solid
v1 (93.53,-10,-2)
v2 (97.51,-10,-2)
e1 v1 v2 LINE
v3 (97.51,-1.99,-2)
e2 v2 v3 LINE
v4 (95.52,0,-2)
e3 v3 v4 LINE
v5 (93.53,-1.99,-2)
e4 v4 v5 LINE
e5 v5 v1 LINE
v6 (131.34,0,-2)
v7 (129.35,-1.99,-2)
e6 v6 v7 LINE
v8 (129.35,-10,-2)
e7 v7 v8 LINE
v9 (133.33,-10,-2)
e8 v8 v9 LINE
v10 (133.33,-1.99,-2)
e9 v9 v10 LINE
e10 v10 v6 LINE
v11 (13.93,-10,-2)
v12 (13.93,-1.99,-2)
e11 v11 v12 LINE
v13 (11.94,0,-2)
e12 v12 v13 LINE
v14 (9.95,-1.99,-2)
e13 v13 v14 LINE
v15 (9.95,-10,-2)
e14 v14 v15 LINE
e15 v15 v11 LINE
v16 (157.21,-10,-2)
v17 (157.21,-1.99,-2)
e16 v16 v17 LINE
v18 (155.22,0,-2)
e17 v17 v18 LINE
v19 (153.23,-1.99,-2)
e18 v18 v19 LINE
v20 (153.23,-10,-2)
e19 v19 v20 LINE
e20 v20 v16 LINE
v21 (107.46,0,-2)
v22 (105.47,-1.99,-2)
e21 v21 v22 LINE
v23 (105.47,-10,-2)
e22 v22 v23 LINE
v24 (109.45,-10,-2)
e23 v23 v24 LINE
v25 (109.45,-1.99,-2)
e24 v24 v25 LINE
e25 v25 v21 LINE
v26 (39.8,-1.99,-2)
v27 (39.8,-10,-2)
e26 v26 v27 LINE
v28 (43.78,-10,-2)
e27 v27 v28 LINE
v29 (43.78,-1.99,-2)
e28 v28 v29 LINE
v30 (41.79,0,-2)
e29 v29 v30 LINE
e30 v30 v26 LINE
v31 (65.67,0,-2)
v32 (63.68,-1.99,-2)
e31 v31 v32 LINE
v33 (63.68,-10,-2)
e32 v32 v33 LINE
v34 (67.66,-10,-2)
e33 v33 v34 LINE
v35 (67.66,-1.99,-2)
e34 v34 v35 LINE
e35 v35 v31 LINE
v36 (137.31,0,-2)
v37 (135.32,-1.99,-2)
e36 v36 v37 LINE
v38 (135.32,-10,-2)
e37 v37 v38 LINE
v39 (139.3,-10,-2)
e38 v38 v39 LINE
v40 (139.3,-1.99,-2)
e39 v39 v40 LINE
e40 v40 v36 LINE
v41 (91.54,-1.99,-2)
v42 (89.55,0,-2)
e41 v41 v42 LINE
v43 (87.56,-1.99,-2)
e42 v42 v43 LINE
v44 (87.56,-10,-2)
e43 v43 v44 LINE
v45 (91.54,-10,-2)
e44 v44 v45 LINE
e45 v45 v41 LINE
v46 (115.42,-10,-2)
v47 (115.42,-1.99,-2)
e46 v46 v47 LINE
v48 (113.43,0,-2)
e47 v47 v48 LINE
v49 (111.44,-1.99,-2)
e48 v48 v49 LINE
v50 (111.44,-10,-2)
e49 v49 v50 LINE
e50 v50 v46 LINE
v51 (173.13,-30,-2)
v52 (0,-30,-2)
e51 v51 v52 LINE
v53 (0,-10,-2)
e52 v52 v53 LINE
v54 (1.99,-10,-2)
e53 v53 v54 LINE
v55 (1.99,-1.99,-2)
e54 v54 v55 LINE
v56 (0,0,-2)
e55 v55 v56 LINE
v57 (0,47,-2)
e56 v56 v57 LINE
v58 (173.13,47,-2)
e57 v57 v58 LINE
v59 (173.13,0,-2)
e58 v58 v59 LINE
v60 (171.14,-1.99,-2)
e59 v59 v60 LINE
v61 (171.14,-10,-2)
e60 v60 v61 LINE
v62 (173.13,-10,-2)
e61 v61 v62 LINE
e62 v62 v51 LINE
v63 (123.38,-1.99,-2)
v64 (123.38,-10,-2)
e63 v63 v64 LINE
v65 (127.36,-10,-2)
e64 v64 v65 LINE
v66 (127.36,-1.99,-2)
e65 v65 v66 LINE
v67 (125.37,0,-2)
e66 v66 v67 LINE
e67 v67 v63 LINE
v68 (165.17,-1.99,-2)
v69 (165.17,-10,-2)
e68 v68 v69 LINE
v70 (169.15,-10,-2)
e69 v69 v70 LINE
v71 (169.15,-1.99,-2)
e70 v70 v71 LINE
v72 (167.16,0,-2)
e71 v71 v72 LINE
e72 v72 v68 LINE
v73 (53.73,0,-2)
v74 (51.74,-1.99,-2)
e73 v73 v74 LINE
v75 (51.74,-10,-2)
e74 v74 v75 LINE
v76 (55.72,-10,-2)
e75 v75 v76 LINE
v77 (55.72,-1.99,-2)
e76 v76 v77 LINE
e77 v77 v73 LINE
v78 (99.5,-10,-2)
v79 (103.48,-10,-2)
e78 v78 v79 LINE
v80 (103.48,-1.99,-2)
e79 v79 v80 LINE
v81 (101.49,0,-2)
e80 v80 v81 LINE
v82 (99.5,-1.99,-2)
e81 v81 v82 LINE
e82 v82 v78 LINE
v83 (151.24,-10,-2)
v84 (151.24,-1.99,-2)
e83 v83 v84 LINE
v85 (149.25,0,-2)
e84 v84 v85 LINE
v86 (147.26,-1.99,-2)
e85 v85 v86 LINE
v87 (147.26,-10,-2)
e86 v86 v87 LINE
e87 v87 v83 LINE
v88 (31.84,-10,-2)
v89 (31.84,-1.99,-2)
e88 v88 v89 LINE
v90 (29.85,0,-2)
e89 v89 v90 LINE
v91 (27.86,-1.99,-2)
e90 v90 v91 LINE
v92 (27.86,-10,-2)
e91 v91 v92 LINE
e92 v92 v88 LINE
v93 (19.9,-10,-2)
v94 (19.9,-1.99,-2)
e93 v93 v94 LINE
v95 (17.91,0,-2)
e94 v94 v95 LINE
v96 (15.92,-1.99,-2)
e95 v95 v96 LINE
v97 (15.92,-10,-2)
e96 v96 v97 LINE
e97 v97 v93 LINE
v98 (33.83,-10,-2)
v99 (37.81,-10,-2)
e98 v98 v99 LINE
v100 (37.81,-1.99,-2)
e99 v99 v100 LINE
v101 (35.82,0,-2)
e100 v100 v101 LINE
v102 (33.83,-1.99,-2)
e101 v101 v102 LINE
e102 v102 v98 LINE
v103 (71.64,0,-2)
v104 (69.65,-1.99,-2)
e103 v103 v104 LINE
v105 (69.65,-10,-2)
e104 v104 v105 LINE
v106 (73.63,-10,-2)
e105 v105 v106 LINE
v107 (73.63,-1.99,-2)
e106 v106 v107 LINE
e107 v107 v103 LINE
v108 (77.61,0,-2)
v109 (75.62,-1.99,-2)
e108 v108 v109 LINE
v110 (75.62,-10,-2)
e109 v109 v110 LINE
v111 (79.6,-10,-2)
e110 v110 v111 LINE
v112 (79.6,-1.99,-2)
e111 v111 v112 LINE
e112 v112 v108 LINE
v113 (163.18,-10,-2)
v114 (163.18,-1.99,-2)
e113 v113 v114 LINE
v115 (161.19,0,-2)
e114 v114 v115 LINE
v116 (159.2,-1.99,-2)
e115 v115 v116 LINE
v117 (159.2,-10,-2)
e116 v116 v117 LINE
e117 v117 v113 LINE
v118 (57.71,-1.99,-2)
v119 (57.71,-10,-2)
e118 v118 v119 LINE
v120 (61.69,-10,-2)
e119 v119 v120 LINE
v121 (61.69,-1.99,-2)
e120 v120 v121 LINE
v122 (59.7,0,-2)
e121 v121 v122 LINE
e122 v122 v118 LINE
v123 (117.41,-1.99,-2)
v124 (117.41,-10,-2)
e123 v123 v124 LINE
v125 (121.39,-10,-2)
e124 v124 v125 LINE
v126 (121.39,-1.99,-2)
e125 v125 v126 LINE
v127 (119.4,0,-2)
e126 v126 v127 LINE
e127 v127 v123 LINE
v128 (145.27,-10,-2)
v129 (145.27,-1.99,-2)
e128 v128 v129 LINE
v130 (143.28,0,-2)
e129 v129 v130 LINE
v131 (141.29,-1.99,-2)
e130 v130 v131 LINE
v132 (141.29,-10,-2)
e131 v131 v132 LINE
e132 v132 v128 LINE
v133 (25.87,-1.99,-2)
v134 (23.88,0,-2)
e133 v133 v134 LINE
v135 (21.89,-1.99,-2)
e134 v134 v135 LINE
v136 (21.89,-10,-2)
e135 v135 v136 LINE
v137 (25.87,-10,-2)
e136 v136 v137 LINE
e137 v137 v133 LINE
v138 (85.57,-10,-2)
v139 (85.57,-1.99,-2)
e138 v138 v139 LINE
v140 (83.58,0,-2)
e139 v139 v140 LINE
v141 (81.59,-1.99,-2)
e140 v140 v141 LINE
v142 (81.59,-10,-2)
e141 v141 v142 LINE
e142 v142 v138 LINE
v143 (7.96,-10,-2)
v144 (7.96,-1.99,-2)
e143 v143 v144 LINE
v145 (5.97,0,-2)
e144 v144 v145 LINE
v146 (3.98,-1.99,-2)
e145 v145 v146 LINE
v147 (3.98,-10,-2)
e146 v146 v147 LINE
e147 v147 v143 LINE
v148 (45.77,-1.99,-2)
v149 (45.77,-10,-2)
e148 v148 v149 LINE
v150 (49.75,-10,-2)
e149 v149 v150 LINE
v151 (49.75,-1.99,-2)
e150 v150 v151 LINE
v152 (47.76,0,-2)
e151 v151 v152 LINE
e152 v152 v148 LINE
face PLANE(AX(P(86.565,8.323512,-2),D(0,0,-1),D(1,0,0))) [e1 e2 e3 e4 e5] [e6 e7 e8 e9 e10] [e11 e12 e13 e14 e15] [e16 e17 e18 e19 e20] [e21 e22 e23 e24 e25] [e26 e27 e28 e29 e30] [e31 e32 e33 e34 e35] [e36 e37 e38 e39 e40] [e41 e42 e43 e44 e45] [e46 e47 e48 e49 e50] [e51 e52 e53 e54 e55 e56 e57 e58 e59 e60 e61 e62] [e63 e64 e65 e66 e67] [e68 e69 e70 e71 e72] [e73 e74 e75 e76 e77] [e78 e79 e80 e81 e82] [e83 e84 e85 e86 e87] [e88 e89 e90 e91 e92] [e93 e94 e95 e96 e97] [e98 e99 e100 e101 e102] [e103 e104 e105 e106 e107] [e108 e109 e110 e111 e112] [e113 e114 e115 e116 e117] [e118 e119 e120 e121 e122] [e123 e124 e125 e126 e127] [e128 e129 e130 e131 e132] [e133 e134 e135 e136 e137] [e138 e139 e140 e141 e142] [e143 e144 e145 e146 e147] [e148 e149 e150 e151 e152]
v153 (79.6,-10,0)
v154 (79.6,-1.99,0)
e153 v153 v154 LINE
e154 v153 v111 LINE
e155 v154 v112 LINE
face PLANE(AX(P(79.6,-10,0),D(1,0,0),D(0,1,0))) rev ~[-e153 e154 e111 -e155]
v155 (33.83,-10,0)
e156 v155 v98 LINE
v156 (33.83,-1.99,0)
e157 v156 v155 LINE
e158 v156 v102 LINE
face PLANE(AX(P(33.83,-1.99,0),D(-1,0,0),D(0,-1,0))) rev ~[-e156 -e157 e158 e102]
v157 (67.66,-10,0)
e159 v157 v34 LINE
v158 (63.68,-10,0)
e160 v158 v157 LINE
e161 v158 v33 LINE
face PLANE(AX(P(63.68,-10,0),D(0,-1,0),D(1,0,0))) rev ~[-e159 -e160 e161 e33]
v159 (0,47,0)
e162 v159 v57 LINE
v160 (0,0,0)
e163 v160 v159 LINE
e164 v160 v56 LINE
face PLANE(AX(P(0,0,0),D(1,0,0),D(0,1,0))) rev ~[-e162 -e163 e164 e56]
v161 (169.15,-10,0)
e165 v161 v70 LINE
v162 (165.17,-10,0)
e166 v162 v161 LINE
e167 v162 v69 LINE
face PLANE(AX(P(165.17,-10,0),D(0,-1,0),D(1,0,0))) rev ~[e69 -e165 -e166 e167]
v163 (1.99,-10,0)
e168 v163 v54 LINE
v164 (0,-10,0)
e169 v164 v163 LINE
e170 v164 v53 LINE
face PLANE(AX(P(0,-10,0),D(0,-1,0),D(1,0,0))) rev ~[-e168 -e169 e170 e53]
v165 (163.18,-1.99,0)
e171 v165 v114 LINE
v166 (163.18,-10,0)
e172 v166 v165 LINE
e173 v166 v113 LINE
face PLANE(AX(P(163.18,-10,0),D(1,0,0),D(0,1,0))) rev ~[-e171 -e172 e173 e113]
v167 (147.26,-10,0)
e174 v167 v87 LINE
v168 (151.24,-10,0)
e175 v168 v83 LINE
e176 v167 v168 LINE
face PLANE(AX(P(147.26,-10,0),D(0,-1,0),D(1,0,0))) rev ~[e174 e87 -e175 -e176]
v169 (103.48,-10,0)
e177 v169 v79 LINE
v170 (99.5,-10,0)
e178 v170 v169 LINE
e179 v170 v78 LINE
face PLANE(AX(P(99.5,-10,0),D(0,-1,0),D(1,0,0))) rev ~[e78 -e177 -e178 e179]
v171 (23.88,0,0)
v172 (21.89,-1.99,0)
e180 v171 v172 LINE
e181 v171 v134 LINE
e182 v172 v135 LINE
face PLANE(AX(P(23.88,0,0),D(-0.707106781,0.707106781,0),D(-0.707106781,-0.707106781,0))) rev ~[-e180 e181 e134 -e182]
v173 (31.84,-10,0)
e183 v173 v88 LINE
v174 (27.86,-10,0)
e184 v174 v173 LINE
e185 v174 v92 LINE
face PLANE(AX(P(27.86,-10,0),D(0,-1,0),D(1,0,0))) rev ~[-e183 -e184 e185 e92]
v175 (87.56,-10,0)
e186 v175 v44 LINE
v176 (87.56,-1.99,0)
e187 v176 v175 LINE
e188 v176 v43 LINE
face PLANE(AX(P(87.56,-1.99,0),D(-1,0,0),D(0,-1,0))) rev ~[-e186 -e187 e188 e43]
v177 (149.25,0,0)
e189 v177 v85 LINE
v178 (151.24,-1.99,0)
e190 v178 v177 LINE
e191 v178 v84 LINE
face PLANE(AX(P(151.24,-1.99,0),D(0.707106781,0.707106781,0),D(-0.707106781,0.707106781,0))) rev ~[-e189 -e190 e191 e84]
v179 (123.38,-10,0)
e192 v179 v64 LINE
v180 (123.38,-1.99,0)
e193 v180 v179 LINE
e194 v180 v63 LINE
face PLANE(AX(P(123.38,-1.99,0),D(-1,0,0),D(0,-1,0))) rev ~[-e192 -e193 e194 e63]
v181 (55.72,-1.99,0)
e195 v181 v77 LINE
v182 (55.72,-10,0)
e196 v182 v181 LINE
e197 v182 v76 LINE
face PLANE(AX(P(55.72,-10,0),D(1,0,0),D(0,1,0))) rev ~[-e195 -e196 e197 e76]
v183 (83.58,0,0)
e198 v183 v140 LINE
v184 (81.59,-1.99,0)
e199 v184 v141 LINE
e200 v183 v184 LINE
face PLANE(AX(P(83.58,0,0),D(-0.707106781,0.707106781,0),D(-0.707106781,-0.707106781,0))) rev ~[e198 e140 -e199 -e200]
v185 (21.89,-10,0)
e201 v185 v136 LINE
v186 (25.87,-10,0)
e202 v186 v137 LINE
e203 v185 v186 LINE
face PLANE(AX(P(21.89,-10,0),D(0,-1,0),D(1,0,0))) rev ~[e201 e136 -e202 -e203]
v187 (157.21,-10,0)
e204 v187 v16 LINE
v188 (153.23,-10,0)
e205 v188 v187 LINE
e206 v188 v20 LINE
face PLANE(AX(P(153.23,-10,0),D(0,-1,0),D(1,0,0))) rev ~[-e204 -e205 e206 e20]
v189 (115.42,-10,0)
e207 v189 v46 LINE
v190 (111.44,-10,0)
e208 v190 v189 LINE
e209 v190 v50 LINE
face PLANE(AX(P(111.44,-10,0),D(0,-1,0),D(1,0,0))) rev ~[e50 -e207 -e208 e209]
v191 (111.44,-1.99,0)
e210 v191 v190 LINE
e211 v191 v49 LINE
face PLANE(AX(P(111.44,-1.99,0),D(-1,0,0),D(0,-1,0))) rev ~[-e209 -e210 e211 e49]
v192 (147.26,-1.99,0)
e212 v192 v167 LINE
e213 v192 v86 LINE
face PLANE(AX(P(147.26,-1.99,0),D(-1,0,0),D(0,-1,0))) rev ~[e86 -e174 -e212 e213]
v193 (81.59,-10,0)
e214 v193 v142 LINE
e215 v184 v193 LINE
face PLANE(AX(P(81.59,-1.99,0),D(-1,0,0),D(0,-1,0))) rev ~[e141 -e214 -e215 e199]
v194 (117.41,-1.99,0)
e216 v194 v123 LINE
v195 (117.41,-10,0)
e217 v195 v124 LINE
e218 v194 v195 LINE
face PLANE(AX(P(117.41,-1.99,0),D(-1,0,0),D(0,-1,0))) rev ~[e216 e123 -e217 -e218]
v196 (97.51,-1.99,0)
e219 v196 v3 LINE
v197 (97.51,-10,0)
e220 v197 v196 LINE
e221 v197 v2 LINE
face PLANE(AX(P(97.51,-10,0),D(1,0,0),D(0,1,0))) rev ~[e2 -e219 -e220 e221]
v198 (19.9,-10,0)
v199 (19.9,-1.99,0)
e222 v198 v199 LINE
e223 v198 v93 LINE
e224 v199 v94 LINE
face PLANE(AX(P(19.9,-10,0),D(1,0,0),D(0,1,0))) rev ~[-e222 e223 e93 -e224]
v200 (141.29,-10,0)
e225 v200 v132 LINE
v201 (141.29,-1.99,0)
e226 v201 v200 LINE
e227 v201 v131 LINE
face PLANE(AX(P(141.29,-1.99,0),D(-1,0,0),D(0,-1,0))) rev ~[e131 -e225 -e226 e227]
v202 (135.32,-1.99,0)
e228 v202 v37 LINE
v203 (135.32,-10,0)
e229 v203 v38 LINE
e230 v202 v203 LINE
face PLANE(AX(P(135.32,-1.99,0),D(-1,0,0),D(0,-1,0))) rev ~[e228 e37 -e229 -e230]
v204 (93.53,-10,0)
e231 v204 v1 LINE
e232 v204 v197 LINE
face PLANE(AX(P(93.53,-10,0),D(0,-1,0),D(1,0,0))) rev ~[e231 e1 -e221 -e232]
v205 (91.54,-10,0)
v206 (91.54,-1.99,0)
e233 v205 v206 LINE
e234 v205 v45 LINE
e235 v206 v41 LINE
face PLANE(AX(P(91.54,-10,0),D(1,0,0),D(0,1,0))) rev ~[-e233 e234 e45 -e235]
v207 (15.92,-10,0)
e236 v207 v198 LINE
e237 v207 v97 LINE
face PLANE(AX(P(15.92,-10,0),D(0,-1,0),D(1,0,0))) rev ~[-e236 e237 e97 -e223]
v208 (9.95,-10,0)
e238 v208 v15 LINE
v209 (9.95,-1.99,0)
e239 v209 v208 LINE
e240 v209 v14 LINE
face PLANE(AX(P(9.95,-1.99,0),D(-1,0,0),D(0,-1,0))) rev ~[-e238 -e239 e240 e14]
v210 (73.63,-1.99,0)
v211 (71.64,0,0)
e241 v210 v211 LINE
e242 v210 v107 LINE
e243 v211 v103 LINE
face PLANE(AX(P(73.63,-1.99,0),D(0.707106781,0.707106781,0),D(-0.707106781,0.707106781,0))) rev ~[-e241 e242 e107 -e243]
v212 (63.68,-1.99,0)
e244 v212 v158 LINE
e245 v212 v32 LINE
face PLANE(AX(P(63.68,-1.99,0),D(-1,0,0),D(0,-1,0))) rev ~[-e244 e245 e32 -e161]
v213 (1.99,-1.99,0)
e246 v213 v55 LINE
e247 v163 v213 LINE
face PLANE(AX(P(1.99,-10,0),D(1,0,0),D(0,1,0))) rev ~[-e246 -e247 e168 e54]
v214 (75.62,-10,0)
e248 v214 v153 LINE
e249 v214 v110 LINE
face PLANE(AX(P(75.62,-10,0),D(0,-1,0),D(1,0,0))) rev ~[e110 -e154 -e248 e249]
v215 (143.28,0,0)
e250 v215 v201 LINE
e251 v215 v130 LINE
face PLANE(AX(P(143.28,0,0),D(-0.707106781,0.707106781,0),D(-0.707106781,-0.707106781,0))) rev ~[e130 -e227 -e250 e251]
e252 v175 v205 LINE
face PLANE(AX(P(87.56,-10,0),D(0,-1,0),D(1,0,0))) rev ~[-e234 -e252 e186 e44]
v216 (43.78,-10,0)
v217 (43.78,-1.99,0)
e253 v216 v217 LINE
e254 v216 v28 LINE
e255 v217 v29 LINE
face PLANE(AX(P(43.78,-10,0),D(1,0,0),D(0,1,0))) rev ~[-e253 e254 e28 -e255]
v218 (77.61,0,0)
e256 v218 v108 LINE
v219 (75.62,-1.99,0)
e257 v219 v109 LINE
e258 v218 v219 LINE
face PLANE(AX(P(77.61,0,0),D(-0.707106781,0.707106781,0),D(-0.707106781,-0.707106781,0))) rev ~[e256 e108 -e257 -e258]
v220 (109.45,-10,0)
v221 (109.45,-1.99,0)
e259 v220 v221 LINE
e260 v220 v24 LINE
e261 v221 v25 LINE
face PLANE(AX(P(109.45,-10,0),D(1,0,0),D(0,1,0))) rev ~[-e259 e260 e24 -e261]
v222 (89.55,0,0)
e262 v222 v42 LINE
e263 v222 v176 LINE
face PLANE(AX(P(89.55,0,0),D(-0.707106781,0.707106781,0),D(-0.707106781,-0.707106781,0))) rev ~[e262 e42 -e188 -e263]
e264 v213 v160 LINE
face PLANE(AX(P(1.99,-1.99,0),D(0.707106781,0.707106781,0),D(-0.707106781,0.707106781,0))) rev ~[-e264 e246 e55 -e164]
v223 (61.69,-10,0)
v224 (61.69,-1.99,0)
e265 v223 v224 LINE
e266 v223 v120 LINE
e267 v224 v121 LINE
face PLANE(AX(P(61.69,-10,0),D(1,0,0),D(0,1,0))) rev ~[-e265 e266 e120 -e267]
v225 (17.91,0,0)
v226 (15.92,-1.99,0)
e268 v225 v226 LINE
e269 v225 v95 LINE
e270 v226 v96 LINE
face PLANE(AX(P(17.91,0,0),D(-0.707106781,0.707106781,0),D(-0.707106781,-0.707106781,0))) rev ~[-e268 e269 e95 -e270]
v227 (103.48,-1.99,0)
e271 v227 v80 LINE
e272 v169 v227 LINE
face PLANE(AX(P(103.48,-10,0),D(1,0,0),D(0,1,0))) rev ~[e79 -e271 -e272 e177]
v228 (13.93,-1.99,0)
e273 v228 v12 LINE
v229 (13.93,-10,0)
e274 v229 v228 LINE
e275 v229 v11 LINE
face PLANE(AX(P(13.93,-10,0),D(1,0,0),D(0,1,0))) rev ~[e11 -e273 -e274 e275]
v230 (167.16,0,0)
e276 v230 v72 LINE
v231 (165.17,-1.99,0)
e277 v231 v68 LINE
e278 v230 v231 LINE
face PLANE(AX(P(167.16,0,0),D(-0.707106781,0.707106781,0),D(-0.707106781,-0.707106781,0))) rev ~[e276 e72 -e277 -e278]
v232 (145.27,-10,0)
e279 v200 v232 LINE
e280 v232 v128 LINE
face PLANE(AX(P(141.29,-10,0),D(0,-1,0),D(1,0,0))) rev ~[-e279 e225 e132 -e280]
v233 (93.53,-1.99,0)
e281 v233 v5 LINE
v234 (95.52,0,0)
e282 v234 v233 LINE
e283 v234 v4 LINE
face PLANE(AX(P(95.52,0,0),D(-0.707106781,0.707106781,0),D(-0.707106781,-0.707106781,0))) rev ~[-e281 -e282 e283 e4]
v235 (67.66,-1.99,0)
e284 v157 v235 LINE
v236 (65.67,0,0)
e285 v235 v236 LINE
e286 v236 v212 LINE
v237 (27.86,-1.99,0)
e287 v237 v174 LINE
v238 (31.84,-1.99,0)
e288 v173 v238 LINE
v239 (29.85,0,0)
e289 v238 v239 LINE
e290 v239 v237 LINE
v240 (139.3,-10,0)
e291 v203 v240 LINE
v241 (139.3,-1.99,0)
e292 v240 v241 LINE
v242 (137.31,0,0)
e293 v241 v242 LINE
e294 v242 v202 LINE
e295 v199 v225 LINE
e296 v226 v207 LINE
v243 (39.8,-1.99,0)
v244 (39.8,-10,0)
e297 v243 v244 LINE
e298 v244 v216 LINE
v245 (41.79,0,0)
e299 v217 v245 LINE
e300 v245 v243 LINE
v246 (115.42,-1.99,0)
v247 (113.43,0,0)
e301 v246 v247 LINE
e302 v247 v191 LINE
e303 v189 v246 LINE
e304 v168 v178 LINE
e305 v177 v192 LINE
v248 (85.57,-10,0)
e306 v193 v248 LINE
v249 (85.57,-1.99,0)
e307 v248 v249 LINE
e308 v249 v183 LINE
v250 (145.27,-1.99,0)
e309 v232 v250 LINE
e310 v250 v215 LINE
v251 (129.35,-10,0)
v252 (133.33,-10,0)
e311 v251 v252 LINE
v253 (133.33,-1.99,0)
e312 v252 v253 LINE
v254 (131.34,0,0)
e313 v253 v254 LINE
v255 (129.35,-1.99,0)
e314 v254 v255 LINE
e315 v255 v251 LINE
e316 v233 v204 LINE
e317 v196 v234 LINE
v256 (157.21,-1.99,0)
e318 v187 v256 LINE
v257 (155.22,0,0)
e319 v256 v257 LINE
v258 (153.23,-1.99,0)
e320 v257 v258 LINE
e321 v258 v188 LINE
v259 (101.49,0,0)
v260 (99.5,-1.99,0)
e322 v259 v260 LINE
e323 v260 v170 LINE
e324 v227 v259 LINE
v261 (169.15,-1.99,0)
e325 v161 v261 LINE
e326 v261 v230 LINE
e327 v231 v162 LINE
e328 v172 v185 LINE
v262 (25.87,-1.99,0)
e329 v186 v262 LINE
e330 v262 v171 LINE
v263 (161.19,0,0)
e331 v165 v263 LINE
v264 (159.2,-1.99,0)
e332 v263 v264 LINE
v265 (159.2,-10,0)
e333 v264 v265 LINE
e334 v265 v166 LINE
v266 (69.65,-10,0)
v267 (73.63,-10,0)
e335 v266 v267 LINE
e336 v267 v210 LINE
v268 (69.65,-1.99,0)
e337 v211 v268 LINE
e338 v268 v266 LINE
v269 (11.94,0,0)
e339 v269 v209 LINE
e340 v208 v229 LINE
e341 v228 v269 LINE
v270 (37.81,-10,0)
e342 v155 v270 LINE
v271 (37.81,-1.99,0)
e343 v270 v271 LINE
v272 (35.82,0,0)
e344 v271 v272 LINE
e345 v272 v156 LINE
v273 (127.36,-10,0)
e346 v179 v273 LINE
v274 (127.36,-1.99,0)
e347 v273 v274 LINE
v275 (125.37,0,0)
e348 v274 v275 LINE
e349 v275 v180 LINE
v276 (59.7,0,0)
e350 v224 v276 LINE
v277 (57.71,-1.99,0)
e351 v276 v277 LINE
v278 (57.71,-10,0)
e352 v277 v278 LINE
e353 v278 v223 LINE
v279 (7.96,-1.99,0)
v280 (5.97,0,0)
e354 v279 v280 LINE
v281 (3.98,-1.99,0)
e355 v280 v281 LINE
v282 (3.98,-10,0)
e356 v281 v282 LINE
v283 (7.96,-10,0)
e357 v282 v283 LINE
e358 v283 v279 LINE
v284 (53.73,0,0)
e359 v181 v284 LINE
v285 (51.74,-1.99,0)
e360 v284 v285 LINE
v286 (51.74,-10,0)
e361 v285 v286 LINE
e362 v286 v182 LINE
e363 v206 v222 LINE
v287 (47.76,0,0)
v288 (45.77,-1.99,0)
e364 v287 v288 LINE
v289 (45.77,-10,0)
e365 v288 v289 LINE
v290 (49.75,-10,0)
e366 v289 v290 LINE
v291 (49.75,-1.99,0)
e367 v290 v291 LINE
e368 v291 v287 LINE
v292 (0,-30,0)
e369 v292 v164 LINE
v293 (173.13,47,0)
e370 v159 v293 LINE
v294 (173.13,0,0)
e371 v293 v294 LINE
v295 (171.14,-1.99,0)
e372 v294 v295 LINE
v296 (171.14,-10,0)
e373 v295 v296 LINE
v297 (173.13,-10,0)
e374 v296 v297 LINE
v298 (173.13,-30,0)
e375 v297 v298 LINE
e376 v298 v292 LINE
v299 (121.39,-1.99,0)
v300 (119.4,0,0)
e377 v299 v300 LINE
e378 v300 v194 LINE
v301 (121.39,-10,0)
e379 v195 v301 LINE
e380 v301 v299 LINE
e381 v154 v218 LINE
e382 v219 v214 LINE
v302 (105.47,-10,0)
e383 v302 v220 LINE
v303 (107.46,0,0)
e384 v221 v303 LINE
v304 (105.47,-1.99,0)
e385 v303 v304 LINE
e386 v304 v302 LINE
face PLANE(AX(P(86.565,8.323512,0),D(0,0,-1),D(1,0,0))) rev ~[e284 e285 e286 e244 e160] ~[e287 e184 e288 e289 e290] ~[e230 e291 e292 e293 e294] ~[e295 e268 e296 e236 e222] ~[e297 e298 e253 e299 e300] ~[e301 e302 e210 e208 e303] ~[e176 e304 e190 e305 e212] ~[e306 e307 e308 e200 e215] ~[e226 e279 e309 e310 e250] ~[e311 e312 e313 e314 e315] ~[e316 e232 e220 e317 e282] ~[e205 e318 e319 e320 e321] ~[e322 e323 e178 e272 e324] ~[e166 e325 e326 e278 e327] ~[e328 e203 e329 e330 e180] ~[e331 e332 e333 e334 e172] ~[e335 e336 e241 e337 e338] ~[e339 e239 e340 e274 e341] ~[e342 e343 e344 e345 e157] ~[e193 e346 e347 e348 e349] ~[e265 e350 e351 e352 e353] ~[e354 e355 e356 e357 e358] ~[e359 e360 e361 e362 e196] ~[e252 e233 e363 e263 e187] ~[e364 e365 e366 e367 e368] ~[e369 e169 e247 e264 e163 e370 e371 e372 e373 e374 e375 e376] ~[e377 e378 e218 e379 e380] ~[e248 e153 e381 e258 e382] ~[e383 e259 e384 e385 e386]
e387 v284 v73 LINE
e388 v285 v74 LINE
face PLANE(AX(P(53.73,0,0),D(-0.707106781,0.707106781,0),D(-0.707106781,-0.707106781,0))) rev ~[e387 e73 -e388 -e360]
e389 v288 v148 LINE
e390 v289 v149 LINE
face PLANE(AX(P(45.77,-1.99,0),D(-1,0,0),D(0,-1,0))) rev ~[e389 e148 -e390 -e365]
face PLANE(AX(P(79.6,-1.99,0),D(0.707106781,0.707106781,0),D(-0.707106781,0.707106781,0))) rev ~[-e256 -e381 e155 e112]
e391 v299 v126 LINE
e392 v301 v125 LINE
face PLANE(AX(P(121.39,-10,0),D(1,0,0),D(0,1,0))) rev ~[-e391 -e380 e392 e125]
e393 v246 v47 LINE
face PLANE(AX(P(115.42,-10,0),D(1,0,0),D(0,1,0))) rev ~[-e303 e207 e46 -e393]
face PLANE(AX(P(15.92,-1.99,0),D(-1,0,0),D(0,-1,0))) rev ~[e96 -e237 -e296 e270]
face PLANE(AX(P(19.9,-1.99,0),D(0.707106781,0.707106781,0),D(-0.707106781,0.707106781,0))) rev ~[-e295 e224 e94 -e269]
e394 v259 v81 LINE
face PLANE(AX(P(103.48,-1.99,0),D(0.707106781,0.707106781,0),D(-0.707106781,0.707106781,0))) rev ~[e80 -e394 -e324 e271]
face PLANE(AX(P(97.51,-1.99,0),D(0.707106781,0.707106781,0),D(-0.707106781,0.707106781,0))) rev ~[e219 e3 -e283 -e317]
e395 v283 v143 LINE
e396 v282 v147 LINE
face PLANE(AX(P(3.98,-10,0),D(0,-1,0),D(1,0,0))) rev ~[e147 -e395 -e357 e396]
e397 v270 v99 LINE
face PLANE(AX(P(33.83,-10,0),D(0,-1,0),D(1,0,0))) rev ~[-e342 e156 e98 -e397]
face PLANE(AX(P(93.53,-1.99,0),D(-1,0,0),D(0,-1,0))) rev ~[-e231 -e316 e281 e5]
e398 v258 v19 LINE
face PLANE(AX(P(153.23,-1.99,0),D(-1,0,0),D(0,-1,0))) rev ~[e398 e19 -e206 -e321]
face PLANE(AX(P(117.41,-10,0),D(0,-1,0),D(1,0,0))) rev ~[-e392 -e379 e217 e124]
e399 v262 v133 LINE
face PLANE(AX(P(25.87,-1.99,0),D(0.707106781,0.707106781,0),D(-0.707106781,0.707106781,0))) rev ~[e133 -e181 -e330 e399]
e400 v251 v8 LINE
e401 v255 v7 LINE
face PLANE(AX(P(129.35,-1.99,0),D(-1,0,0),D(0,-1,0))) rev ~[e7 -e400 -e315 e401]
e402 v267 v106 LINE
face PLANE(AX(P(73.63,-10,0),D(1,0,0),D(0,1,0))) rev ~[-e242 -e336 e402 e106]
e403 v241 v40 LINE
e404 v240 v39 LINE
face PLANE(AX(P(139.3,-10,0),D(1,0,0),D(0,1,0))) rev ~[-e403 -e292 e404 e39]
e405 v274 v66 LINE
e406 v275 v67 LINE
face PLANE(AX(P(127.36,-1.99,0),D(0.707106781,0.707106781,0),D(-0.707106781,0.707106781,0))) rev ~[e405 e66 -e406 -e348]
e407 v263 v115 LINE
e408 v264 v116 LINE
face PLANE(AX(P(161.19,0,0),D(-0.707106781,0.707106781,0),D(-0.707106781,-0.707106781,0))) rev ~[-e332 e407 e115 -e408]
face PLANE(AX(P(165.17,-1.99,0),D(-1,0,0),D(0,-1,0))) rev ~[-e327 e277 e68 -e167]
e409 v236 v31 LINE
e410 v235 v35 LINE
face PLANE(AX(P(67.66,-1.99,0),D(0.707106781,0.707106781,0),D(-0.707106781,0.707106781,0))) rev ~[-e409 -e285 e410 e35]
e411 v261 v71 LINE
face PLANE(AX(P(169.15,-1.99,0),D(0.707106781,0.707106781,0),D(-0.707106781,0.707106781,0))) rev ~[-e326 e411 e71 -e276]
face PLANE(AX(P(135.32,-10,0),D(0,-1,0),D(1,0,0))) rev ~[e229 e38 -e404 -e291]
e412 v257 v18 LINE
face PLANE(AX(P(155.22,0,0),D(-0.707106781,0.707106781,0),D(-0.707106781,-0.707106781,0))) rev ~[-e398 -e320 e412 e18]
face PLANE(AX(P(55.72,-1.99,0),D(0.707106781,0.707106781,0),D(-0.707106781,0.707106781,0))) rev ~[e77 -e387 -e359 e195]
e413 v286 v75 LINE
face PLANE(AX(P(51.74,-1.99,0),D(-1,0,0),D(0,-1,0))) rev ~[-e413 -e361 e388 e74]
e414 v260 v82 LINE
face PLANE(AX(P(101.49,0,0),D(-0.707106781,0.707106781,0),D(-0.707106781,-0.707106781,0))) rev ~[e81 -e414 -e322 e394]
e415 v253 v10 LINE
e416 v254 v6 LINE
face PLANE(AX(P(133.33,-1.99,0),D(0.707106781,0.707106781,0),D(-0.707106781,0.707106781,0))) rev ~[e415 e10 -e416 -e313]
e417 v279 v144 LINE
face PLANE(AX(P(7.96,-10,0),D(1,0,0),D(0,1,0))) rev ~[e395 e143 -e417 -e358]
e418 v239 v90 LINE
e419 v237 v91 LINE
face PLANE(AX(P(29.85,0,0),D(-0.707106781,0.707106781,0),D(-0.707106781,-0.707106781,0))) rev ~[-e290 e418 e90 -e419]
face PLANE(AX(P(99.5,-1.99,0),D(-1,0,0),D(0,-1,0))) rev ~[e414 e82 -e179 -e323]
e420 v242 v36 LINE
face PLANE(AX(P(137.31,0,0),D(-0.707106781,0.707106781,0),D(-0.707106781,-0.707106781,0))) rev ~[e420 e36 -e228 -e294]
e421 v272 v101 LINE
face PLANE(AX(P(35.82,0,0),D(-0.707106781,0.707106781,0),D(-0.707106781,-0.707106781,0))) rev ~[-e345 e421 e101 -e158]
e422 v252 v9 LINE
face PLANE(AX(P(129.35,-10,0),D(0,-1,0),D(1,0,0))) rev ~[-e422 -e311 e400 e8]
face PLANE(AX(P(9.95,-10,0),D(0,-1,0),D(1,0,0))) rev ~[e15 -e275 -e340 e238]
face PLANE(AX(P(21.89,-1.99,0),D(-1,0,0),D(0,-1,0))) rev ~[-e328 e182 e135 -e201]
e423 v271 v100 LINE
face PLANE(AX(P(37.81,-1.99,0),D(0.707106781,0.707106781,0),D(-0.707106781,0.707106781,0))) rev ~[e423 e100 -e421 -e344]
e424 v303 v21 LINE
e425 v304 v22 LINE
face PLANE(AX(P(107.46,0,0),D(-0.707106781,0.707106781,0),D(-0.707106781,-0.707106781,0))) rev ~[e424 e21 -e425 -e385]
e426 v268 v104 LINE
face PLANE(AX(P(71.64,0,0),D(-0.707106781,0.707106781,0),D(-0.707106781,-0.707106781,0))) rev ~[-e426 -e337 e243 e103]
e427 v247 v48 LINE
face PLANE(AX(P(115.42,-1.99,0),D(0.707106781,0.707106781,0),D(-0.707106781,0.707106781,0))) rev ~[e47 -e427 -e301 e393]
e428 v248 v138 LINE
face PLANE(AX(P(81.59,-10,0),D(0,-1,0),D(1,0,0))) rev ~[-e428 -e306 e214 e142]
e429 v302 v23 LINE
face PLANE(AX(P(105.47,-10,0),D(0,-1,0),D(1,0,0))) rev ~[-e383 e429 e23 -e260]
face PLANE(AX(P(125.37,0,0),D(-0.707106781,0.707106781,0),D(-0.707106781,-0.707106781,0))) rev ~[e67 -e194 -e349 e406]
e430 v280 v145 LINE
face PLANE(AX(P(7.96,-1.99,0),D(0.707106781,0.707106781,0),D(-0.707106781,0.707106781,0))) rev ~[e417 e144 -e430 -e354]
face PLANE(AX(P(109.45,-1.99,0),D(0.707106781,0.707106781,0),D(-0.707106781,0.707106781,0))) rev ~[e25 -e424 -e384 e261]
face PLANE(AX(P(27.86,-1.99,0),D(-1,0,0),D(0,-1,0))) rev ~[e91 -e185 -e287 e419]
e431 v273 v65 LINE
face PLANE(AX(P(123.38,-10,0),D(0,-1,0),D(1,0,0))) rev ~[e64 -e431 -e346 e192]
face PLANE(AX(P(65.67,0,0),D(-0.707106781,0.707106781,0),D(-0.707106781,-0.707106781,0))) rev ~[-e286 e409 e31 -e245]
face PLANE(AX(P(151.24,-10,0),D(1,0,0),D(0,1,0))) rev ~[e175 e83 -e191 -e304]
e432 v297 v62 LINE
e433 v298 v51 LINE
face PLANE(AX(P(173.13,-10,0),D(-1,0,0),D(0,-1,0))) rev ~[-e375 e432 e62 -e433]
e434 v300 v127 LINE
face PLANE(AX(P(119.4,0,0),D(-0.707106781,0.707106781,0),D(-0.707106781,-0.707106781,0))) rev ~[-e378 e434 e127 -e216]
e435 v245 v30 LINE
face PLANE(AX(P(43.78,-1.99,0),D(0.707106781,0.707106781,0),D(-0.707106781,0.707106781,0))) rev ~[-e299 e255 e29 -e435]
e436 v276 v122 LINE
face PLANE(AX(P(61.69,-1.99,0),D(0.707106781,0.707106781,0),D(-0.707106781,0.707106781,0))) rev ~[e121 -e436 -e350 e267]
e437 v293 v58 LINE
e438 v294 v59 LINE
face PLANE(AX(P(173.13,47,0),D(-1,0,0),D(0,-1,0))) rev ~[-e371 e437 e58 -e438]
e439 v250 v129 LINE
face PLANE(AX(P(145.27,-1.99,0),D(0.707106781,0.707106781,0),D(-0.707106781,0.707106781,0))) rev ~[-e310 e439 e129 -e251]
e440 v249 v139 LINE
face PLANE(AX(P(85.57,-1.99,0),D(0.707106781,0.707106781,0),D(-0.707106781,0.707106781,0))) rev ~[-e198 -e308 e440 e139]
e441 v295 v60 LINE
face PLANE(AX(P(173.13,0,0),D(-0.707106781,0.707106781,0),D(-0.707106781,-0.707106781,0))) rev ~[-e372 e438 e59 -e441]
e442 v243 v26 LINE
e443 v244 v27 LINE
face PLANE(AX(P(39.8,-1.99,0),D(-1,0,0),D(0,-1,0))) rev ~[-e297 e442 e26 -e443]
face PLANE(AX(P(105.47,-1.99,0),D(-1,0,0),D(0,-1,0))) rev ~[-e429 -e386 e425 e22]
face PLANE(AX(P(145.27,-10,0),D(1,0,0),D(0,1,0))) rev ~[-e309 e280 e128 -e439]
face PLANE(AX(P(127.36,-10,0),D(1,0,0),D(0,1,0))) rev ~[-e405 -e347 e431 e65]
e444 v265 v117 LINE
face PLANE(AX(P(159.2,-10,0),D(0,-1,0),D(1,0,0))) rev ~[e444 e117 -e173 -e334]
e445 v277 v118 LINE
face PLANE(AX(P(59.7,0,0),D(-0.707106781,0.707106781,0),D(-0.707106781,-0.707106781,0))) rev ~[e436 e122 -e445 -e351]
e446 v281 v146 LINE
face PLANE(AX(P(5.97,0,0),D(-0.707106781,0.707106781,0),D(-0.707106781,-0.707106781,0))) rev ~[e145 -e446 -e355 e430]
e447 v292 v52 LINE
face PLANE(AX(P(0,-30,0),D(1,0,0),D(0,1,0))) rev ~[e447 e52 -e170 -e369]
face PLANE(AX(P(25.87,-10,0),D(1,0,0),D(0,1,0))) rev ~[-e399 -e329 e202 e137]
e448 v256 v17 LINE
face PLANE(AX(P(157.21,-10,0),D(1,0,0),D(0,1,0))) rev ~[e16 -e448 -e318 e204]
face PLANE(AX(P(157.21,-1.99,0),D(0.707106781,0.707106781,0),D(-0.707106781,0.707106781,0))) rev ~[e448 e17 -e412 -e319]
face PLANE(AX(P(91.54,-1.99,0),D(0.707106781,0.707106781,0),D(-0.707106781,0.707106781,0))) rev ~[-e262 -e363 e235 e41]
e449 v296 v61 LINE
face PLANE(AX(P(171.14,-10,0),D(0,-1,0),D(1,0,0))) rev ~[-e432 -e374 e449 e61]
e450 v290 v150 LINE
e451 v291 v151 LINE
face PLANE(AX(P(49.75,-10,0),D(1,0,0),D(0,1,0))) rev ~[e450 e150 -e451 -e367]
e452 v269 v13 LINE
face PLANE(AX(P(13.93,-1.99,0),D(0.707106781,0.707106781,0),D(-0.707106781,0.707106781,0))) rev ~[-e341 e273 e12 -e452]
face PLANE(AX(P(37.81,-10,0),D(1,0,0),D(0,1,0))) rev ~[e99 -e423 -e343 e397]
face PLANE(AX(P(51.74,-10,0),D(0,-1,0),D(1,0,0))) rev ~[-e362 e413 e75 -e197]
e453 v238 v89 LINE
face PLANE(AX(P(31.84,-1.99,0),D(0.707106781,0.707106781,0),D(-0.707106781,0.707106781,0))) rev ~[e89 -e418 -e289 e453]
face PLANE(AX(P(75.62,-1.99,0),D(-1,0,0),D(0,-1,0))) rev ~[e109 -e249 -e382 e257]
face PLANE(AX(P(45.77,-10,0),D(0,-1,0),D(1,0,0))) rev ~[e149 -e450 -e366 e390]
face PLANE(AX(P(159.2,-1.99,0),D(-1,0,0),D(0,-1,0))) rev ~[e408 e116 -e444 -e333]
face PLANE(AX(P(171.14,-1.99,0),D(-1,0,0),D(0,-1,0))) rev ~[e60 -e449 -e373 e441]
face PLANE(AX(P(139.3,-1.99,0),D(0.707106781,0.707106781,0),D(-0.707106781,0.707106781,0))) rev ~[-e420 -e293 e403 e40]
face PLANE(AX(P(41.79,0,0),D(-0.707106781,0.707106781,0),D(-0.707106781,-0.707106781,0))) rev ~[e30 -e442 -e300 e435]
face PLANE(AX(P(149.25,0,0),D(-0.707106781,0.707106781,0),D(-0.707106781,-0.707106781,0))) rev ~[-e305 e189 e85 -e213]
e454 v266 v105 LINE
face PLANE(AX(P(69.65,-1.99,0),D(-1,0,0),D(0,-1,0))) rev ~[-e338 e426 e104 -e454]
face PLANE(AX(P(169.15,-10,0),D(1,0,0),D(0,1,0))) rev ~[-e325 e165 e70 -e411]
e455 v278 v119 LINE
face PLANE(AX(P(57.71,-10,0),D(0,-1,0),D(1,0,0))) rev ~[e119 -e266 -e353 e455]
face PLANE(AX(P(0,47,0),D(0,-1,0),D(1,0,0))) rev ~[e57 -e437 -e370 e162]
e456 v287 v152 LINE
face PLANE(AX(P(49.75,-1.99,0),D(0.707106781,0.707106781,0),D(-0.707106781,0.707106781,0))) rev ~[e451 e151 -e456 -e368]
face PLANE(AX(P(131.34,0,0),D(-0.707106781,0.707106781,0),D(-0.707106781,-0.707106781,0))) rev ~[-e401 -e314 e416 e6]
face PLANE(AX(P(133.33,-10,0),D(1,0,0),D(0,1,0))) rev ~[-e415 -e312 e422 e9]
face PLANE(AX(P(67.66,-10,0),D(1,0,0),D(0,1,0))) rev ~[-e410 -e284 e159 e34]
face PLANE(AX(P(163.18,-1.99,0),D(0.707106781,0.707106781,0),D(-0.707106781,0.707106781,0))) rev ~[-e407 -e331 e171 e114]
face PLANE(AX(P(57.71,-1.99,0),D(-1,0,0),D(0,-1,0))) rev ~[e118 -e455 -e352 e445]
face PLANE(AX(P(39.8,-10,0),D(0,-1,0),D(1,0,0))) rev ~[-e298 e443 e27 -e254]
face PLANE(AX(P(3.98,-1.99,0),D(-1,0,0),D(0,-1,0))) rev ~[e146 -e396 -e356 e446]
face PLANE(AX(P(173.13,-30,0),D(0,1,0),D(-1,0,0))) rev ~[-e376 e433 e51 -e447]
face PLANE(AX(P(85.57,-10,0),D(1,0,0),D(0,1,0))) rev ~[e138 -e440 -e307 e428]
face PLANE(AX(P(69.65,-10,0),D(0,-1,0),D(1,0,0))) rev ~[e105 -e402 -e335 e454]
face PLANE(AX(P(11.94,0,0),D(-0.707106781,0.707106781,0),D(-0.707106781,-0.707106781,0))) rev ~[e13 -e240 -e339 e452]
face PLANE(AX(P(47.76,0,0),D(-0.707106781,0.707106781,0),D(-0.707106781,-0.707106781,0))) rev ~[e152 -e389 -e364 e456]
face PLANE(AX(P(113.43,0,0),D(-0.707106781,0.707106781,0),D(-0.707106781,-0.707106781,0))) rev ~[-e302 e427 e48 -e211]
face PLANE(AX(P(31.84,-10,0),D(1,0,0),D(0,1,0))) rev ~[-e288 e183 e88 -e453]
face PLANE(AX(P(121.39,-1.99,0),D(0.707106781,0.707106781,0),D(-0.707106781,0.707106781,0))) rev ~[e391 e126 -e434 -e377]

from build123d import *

# Parameters (mm, degrees)
BOSS_EXTRUDE1_DEPTH = 2


with BuildPart() as part:
    # Sketch1 → Boss-Extrude1 (new body)
    with BuildSketch(Plane(origin=(0, 0, 0), x_dir=(1, 0, 0), z_dir=(0, 0, -1))):
        Polygon((1.99, 1.99), (0, 0), (0, -47), (173.13, -47), (173.13, 0), (171.14, 1.99), (171.14, 10), (173.13, 10), (173.13, 30), (0, 30), (0, 10), (1.99, 10), align=None)
        Polygon((7.96, 1.99), (5.97, 0), (3.98, 1.99), (3.98, 10), (7.96, 10), align=None, mode=Mode.SUBTRACT)
        Polygon((13.93, 1.99), (11.94, 0), (9.95, 1.99), (9.95, 10), (13.93, 10), align=None, mode=Mode.SUBTRACT)
        Polygon((19.9, 1.99), (17.91, 0), (15.92, 1.99), (15.92, 10), (19.9, 10), align=None, mode=Mode.SUBTRACT)
        Polygon((25.87, 1.99), (23.88, 0), (21.89, 1.99), (21.89, 10), (25.87, 10), align=None, mode=Mode.SUBTRACT)
        Polygon((31.84, 1.99), (29.85, 0), (27.86, 1.99), (27.86, 10), (31.84, 10), align=None, mode=Mode.SUBTRACT)
        Polygon((37.81, 1.99), (35.82, 0), (33.83, 1.99), (33.83, 10), (37.81, 10), align=None, mode=Mode.SUBTRACT)
        Polygon((43.78, 1.99), (41.79, 0), (39.8, 1.99), (39.8, 10), (43.78, 10), align=None, mode=Mode.SUBTRACT)
        Polygon((49.75, 1.99), (47.76, 0), (45.77, 1.99), (45.77, 10), (49.75, 10), align=None, mode=Mode.SUBTRACT)
        Polygon((55.72, 1.99), (53.73, 0), (51.74, 1.99), (51.74, 10), (55.72, 10), align=None, mode=Mode.SUBTRACT)
        Polygon((61.69, 1.99), (59.7, 0), (57.71, 1.99), (57.71, 10), (61.69, 10), align=None, mode=Mode.SUBTRACT)
        Polygon((67.66, 1.99), (65.67, 0), (63.68, 1.99), (63.68, 10), (67.66, 10), align=None, mode=Mode.SUBTRACT)
        Polygon((73.63, 1.99), (71.64, 0), (69.65, 1.99), (69.65, 10), (73.63, 10), align=None, mode=Mode.SUBTRACT)
        Polygon((79.6, 1.99), (77.61, 0), (75.62, 1.99), (75.62, 10), (79.6, 10), align=None, mode=Mode.SUBTRACT)
        Polygon((85.57, 1.99), (83.58, 0), (81.59, 1.99), (81.59, 10), (85.57, 10), align=None, mode=Mode.SUBTRACT)
        Polygon((91.54, 1.99), (89.55, 0), (87.56, 1.99), (87.56, 10), (91.54, 10), align=None, mode=Mode.SUBTRACT)
        Polygon((97.51, 1.99), (95.52, 0), (93.53, 1.99), (93.53, 10), (97.51, 10), align=None, mode=Mode.SUBTRACT)
        Polygon((103.48, 1.99), (101.49, 0), (99.5, 1.99), (99.5, 10), (103.48, 10), align=None, mode=Mode.SUBTRACT)
        Polygon((109.45, 1.99), (107.46, 0), (105.47, 1.99), (105.47, 10), (109.45, 10), align=None, mode=Mode.SUBTRACT)
        Polygon((115.42, 1.99), (113.43, 0), (111.44, 1.99), (111.44, 10), (115.42, 10), align=None, mode=Mode.SUBTRACT)
        Polygon((121.39, 1.99), (119.4, 0), (117.41, 1.99), (117.41, 10), (121.39, 10), align=None, mode=Mode.SUBTRACT)
        Polygon((127.36, 1.99), (125.37, 0), (123.38, 1.99), (123.38, 10), (127.36, 10), align=None, mode=Mode.SUBTRACT)
        Polygon((133.33, 1.99), (131.34, 0), (129.35, 1.99), (129.35, 10), (133.33, 10), align=None, mode=Mode.SUBTRACT)
        Polygon((139.3, 1.99), (137.31, 0), (135.32, 1.99), (135.32, 10), (139.3, 10), align=None, mode=Mode.SUBTRACT)
        Polygon((145.27, 1.99), (143.28, 0), (141.29, 1.99), (141.29, 10), (145.27, 10), align=None, mode=Mode.SUBTRACT)
        Polygon((151.24, 1.99), (149.25, 0), (147.26, 1.99), (147.26, 10), (151.24, 10), align=None, mode=Mode.SUBTRACT)
        Polygon((157.21, 1.99), (155.22, 0), (153.23, 1.99), (153.23, 10), (157.21, 10), align=None, mode=Mode.SUBTRACT)
        Polygon((163.18, 1.99), (161.19, 0), (159.2, 1.99), (159.2, 10), (163.18, 10), align=None, mode=Mode.SUBTRACT)
        Polygon((169.15, 1.99), (167.16, 0), (165.17, 1.99), (165.17, 10), (169.15, 10), align=None, mode=Mode.SUBTRACT)
    extrude(amount=BOSS_EXTRUDE1_DEPTH)


solid = part.part
